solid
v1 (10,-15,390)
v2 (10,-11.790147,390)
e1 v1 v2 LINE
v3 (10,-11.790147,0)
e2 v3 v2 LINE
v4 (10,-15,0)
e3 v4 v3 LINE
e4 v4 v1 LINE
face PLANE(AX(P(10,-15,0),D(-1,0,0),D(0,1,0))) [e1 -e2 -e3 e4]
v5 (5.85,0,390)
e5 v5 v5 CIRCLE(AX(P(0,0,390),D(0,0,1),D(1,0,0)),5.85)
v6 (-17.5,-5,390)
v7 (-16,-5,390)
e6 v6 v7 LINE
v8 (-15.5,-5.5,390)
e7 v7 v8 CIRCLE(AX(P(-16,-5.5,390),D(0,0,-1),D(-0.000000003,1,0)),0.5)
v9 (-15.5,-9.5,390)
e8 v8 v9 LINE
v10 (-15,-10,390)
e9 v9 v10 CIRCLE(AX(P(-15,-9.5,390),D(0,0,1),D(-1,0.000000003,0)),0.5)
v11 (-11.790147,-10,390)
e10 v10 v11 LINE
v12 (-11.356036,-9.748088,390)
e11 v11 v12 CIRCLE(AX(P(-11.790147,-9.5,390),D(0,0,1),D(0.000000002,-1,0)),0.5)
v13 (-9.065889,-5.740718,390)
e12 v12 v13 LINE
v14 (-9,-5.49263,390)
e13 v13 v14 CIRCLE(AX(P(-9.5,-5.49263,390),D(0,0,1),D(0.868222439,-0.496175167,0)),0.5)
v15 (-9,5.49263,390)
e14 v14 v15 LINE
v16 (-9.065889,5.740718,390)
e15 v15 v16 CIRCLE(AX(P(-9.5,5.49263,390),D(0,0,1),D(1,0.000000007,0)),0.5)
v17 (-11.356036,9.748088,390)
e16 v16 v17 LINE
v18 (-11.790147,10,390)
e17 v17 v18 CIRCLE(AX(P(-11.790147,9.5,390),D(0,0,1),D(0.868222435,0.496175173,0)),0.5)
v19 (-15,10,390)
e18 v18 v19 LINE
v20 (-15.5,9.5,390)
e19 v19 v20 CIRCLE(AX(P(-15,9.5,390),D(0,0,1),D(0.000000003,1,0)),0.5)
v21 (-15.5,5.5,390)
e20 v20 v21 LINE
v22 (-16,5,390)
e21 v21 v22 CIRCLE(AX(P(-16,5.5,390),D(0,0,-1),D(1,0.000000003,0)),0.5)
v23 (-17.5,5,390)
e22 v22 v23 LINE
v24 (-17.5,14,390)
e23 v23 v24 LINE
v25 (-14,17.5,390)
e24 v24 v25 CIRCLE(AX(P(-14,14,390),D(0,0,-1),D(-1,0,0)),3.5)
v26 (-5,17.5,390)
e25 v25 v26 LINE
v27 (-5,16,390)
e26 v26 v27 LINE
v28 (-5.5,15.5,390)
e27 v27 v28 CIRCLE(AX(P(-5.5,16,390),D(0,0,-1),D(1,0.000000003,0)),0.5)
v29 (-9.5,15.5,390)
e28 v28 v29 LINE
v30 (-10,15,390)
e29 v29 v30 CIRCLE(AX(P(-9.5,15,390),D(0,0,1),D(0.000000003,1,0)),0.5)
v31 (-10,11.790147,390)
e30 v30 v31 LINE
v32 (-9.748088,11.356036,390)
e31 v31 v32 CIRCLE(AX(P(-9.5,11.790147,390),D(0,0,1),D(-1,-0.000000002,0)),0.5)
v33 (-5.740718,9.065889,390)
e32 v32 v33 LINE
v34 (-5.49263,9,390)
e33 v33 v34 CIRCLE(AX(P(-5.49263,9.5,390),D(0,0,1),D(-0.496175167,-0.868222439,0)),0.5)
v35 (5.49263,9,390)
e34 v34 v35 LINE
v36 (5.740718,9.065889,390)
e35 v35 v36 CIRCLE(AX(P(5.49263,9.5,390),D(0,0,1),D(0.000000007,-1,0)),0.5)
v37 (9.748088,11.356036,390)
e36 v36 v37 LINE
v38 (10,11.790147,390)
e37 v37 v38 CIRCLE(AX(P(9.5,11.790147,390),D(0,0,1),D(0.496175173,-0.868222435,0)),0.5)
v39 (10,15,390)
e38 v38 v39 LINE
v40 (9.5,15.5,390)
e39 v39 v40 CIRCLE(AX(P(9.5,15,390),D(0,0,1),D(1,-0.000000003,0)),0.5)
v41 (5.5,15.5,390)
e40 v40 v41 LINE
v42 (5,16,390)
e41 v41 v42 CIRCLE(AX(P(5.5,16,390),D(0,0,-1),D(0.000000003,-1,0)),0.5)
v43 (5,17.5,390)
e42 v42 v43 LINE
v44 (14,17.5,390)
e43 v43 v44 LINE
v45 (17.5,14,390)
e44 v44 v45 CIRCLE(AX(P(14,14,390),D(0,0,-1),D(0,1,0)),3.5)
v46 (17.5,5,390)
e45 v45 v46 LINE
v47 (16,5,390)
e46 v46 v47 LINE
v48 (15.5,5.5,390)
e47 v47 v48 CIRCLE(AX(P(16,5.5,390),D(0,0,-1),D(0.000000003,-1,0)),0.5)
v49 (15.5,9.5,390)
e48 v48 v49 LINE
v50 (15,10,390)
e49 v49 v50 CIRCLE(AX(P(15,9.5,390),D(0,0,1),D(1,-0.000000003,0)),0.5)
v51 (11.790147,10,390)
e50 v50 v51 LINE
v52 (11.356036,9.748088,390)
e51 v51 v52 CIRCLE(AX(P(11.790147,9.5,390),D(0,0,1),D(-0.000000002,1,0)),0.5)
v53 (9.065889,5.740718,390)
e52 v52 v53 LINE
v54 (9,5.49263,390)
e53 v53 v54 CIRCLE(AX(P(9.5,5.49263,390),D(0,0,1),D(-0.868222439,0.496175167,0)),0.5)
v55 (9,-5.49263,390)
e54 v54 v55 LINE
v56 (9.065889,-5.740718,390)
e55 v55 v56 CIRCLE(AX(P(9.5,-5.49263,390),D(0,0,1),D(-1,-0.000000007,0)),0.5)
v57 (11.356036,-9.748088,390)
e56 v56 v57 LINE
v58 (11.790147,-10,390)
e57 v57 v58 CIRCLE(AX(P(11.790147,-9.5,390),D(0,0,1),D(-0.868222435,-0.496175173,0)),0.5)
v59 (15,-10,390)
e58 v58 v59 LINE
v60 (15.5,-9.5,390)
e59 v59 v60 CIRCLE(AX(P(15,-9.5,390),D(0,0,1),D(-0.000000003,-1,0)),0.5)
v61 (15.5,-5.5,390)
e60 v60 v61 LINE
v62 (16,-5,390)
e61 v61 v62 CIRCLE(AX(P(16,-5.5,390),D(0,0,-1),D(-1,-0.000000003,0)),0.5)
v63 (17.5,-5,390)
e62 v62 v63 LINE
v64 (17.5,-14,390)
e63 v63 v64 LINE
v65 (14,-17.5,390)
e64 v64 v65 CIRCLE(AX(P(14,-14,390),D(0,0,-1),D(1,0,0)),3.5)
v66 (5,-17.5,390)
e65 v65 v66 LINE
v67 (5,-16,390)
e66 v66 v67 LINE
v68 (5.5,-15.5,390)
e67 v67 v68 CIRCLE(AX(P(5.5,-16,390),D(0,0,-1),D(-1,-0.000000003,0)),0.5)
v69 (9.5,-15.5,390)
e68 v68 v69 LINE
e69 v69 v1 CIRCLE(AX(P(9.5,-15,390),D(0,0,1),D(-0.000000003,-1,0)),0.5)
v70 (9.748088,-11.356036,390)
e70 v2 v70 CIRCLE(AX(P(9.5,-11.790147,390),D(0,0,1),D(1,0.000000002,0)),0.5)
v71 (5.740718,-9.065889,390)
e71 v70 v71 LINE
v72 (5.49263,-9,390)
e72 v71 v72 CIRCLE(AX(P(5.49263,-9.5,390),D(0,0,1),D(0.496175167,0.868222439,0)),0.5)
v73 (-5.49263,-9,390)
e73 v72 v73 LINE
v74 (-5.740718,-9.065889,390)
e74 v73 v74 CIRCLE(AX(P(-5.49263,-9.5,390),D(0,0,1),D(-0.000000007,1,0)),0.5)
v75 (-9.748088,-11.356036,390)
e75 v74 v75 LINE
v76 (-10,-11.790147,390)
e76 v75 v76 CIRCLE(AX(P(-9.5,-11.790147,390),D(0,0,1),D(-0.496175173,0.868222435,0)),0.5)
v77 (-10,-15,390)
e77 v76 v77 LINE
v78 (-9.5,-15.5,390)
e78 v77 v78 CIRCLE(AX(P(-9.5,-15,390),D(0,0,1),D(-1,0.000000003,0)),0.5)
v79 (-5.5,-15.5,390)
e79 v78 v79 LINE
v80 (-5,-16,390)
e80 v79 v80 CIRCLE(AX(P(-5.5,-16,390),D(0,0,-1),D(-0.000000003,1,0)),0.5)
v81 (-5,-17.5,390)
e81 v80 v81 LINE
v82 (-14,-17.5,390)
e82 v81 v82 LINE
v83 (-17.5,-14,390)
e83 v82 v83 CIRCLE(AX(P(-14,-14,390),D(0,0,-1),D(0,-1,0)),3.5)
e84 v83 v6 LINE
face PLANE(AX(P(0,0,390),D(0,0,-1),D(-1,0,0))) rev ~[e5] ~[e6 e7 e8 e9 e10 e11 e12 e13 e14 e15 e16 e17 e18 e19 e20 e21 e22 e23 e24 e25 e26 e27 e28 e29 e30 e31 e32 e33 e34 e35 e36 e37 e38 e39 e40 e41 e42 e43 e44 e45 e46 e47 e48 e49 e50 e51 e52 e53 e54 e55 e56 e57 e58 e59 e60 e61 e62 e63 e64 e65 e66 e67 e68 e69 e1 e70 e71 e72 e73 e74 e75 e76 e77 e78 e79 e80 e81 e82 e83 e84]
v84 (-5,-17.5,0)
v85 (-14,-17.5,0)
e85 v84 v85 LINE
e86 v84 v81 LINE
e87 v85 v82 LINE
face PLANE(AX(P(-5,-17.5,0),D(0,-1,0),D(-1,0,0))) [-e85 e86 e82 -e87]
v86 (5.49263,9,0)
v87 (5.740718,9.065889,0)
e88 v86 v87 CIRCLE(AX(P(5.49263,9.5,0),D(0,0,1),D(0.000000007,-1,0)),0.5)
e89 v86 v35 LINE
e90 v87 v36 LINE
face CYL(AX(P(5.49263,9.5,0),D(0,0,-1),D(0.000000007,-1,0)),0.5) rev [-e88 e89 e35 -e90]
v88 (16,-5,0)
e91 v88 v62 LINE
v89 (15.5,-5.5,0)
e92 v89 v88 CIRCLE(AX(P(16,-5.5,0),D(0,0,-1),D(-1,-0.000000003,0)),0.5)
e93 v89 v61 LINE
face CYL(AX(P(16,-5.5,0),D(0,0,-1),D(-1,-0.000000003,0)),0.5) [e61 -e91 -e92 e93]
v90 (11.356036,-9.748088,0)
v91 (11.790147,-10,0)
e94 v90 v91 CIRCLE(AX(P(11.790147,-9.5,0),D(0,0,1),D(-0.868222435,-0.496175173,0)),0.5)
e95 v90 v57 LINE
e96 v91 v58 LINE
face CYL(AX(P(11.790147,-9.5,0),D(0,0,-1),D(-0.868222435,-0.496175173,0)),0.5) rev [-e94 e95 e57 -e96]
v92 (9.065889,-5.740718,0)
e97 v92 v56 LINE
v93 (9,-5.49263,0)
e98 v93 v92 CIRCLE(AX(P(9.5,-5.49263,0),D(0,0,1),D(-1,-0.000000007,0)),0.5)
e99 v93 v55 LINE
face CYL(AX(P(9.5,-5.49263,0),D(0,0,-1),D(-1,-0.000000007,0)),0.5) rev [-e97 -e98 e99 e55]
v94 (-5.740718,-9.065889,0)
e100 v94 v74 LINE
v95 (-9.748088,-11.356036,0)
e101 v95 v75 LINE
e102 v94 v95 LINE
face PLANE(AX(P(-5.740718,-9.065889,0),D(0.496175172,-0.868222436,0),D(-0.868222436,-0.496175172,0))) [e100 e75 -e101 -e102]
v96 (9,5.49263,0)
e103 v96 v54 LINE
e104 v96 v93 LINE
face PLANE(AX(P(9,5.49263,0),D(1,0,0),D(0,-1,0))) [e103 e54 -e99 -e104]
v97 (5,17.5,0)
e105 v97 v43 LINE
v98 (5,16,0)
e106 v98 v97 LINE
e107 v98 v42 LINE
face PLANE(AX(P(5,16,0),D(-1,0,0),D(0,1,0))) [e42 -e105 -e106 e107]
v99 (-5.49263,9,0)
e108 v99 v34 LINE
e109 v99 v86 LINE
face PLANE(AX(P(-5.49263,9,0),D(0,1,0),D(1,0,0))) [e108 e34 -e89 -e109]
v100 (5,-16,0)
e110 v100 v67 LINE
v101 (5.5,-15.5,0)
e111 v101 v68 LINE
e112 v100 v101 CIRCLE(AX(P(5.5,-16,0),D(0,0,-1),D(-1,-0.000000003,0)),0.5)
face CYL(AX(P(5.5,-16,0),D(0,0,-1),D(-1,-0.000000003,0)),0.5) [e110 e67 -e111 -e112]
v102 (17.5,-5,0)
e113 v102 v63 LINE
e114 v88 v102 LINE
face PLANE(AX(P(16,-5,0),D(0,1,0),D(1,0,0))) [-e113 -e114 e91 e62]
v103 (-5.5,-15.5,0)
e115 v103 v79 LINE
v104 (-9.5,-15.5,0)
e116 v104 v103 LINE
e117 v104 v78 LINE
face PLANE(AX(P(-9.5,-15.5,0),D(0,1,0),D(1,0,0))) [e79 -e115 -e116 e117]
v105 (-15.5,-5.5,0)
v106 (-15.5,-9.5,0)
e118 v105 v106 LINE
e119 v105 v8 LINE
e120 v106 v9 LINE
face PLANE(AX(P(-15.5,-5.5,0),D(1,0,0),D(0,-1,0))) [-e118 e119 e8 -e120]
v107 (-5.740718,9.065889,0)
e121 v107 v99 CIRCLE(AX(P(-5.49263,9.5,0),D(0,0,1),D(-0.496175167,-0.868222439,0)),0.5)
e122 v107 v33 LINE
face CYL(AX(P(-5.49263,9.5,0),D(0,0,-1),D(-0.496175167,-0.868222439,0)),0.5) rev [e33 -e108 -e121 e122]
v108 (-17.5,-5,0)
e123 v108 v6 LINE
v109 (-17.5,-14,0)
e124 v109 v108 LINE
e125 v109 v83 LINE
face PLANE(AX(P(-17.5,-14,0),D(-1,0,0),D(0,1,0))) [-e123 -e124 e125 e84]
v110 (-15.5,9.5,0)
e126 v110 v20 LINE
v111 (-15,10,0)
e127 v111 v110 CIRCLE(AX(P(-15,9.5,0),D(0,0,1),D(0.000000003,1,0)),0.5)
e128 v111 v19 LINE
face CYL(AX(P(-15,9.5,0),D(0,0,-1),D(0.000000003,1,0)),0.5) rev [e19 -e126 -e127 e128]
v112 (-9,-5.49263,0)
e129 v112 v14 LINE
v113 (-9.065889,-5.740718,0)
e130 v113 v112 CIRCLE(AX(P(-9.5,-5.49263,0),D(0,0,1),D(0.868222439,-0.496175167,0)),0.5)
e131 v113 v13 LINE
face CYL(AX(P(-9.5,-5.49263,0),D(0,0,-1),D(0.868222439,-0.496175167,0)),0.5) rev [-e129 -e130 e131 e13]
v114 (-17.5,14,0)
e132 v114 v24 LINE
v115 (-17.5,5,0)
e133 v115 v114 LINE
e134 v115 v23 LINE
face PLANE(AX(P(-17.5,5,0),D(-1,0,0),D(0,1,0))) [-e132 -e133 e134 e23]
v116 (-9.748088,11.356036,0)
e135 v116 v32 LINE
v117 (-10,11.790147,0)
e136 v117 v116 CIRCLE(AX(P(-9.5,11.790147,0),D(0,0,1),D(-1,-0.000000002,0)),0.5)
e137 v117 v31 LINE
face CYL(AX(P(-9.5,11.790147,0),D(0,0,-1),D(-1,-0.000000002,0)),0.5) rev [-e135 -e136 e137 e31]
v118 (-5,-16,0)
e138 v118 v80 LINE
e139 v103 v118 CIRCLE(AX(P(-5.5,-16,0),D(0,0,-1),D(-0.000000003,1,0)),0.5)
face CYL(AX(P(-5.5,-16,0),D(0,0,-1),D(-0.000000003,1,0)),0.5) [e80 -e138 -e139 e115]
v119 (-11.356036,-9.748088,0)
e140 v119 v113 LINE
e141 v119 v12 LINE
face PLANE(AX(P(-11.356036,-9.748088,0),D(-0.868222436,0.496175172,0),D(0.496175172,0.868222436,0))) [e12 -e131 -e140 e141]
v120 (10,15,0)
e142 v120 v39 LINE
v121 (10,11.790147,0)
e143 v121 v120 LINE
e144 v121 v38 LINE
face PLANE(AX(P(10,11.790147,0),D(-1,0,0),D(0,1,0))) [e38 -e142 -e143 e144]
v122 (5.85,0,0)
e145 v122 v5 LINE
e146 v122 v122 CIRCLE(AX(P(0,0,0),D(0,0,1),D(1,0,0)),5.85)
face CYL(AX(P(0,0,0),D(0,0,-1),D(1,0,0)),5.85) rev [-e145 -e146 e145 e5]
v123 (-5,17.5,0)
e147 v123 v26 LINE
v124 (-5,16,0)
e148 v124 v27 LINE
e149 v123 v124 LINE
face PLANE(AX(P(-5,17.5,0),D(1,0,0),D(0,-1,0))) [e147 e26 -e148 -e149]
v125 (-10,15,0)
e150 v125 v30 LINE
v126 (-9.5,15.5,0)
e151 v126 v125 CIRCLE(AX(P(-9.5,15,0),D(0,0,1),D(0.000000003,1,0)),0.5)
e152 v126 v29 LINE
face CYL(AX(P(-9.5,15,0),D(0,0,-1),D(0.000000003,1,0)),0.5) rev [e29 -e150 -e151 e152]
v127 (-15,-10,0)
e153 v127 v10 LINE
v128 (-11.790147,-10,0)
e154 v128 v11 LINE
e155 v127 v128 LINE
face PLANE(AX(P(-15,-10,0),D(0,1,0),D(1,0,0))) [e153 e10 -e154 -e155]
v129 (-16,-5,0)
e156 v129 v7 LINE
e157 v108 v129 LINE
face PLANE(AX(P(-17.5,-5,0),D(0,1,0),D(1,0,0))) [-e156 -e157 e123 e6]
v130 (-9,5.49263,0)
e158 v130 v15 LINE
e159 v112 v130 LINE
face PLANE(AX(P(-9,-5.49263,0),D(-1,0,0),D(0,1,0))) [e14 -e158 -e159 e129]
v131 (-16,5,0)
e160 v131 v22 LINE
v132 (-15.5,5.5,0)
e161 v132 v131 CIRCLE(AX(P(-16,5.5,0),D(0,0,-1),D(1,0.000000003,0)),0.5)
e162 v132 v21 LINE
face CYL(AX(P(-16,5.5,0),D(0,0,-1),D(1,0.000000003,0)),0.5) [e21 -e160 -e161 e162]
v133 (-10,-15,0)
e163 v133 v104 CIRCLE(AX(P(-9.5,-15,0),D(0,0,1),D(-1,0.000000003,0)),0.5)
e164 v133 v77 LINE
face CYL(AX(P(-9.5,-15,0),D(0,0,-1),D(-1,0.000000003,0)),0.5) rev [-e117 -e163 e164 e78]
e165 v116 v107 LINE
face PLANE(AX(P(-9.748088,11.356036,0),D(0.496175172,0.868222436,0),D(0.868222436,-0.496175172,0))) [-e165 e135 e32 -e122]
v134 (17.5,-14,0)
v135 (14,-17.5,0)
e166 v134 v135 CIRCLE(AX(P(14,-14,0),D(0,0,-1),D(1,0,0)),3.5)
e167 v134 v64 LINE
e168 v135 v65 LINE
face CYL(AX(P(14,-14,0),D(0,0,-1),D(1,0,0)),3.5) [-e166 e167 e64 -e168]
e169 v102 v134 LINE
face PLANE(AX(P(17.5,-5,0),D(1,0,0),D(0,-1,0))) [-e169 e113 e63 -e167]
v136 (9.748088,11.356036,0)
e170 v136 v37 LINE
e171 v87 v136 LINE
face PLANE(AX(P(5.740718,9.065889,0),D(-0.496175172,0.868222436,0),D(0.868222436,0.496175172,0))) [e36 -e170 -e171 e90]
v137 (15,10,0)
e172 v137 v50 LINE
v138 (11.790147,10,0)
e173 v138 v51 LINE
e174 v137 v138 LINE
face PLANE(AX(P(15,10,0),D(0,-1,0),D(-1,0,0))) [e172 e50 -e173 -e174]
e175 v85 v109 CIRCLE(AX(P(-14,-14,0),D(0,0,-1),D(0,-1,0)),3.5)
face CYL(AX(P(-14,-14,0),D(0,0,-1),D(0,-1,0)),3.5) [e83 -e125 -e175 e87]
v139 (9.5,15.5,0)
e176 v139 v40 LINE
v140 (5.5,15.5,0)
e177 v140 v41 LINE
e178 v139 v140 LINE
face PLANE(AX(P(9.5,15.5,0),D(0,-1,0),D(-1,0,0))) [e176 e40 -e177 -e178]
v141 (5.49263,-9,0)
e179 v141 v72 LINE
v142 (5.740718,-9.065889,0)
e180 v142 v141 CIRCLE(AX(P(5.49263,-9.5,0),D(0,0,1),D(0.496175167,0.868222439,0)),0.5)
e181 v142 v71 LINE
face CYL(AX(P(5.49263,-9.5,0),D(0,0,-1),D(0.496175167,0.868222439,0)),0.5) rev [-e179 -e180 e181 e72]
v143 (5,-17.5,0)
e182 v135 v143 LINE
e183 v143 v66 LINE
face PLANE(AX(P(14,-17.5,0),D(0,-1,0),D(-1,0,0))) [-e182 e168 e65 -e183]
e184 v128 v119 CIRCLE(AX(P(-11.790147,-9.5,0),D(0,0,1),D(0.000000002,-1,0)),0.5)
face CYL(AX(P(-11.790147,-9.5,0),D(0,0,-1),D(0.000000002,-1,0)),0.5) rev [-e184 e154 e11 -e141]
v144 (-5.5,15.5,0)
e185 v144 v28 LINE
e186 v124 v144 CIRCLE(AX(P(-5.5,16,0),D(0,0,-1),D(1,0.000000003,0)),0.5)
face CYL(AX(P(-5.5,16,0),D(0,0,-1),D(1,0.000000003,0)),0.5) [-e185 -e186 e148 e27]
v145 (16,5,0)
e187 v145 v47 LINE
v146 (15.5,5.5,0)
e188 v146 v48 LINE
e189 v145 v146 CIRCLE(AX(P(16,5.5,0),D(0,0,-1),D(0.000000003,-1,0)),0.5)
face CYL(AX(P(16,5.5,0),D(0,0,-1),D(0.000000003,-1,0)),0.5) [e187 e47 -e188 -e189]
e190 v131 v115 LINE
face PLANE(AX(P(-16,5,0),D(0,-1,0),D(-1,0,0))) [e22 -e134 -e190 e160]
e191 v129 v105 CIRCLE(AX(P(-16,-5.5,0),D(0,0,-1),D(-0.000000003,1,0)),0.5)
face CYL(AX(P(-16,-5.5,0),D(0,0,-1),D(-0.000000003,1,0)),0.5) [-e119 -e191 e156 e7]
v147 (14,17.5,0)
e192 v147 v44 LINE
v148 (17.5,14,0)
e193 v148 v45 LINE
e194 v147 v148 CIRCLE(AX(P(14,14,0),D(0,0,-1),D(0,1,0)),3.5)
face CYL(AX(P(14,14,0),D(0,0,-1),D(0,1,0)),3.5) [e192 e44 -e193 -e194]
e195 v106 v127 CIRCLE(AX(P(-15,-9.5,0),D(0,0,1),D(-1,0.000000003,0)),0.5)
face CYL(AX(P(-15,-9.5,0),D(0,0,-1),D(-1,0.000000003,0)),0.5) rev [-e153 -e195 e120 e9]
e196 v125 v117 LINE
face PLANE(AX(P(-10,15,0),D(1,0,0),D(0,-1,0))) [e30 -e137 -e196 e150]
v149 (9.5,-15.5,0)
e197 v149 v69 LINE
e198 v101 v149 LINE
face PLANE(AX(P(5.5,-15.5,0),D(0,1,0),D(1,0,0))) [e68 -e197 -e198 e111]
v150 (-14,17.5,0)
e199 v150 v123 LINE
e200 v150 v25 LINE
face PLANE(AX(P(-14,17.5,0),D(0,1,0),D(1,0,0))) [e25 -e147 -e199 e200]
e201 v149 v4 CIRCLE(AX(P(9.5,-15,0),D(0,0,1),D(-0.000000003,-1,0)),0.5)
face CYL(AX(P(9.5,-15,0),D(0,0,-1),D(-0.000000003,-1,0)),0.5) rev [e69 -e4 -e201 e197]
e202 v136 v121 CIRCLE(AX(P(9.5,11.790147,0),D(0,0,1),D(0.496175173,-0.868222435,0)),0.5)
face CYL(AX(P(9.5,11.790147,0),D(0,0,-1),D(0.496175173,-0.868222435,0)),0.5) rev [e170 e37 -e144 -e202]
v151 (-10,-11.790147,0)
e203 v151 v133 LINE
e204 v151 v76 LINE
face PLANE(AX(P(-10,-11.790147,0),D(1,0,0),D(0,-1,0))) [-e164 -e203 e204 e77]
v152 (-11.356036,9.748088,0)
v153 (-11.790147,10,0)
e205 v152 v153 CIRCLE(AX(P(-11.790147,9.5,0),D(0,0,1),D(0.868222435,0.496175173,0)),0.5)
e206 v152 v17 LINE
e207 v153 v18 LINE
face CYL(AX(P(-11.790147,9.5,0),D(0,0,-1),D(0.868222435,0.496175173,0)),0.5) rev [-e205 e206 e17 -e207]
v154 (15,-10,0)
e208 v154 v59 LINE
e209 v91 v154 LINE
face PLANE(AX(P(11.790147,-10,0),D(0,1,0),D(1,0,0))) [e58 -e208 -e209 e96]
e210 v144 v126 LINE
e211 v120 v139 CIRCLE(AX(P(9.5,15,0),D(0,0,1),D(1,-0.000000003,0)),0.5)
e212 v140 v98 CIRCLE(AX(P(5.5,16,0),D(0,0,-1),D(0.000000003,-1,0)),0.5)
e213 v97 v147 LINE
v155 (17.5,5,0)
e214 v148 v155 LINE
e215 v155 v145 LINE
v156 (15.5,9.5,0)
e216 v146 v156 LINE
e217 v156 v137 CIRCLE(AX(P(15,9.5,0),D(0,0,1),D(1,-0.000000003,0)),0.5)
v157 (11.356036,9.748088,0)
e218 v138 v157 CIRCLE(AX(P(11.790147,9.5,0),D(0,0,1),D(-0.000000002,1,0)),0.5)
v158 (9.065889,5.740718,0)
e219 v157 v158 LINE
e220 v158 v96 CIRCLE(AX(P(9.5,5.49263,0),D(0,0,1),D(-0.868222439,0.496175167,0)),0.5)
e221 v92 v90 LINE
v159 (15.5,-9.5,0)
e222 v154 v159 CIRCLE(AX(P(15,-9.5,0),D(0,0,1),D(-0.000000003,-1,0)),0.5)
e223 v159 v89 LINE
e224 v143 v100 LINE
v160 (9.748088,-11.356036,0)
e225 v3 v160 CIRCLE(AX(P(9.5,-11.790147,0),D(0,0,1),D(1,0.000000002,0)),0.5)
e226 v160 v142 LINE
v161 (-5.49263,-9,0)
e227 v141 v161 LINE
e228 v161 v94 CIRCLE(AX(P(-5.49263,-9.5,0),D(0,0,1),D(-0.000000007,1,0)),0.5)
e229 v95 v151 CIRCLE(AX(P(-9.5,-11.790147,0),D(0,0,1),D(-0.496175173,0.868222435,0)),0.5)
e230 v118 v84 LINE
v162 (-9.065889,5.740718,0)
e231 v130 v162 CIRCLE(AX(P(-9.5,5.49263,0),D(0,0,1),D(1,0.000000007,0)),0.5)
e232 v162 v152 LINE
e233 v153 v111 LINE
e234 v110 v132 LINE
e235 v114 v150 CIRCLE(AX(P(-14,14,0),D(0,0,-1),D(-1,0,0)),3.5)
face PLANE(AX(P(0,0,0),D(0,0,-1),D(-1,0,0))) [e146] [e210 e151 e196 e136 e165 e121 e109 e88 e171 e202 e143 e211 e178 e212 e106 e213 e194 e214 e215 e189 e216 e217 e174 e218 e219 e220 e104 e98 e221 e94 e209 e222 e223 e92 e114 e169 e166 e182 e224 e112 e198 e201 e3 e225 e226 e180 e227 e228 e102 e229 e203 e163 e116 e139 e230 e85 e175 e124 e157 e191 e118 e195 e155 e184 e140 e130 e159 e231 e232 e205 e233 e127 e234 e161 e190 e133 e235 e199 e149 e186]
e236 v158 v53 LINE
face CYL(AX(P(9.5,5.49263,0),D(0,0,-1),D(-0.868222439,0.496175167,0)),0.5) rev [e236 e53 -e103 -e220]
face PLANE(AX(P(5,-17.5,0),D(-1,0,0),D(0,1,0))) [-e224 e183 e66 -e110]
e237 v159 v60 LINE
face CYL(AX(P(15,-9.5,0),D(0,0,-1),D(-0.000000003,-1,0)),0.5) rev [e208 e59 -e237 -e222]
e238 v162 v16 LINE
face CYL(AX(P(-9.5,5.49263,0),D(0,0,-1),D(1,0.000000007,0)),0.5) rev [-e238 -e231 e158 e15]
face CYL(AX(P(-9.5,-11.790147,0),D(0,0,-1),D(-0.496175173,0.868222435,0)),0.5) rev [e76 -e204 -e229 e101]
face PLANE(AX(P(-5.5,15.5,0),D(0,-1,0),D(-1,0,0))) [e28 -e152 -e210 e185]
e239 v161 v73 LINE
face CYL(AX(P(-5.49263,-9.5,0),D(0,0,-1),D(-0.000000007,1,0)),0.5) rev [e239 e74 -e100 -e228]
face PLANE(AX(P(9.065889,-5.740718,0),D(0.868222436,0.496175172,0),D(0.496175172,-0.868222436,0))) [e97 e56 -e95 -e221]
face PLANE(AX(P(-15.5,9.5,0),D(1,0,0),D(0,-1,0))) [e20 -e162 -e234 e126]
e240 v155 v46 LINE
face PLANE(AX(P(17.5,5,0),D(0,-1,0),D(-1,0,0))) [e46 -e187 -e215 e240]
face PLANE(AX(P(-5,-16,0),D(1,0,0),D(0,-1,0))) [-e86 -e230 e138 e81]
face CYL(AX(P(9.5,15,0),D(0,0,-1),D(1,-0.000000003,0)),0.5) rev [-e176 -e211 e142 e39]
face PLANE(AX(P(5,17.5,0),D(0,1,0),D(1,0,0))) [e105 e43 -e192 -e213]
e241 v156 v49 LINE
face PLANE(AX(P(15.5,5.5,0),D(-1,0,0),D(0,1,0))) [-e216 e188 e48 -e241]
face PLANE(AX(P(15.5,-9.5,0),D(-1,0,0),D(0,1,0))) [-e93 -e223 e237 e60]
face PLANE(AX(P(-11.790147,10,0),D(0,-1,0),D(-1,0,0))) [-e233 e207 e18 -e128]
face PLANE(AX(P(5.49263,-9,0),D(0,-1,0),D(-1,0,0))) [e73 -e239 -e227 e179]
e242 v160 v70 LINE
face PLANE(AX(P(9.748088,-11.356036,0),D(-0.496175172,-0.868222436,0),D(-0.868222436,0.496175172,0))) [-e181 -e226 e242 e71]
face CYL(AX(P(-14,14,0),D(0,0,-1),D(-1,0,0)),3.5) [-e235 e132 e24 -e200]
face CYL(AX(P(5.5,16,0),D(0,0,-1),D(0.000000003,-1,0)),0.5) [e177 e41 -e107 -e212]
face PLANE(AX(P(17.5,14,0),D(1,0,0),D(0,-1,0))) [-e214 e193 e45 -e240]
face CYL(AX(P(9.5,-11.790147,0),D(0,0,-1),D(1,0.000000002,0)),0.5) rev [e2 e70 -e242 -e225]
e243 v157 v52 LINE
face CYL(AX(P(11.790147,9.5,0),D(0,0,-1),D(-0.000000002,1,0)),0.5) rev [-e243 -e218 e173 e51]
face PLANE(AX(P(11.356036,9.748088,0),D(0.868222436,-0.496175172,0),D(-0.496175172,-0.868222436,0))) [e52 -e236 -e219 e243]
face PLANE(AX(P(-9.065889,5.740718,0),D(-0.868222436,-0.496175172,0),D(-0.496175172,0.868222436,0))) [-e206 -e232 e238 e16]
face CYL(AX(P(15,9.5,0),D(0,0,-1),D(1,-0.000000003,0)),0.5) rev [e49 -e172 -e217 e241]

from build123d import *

# Parameters (mm, degrees)
CROQUIS1_R              = 5.85
SALIENTE_EXTRUIR1_DEPTH = 390


with BuildPart() as part:
    # Croquis1 → Saliente-Extruir1 (new body)
    with BuildSketch(Plane.XY):
        with BuildLine():
            Line((-17.5, -5), (-16, -5))
            ThreePointArc((-16, -5), (-15.646446609, -5.146446609), (-15.5, -5.5))
            Line((-15.5, -5.5), (-15.5, -9.5))
            ThreePointArc((-15.5, -9.5), (-15.353553391, -9.853553391), (-15, -10))
            Line((-15, -10), (-11.790147321, -10))
            ThreePointArc((-11.790147321, -10), (-11.539192936, -9.932460283), (-11.356036103, -9.748087586))
            Line((-11.356036103, -9.748087586), (-9.065888782, -5.740718013))
            ThreePointArc((-9.065888782, -5.740718013), (-9.016752854, -5.620974478), (-9, -5.492630427))
            Line((-9, -5.492630427), (-9, 5.492630427))
            ThreePointArc((-9, 5.492630427), (-9.016752854, 5.620974478), (-9.065888782, 5.740718013))
            Line((-9.065888782, 5.740718013), (-11.356036103, 9.748087586))
            ThreePointArc((-11.356036103, 9.748087586), (-11.539192936, 9.932460283), (-11.790147321, 10))
            Line((-11.790147321, 10), (-15, 10))
            ThreePointArc((-15, 10), (-15.353553391, 9.853553391), (-15.5, 9.5))
            Line((-15.5, 9.5), (-15.5, 5.5))
            ThreePointArc((-15.5, 5.5), (-15.646446609, 5.146446609), (-16, 5))
            Line((-16, 5), (-17.5, 5))
            Line((-17.5, 5), (-17.5, 14))
            ThreePointArc((-17.5, 14), (-16.474873734, 16.474873734), (-14, 17.5))
            Line((-14, 17.5), (-5, 17.5))
            Line((-5, 17.5), (-5, 16))
            ThreePointArc((-5, 16), (-5.146446609, 15.646446609), (-5.5, 15.5))
            Line((-5.5, 15.5), (-9.5, 15.5))
            ThreePointArc((-9.5, 15.5), (-9.853553391, 15.353553391), (-10, 15))
            Line((-10, 15), (-10, 11.790147321))
            ThreePointArc((-10, 11.790147321), (-9.932460283, 11.539192936), (-9.748087586, 11.356036103))
            Line((-9.748087586, 11.356036103), (-5.740718013, 9.065888782))
            ThreePointArc((-5.740718013, 9.065888782), (-5.620974478, 9.016752854), (-5.492630427, 9))
            Line((-5.492630427, 9), (5.492630427, 9))
            ThreePointArc((5.492630427, 9), (5.620974478, 9.016752854), (5.740718013, 9.065888782))
            Line((5.740718013, 9.065888782), (9.748087586, 11.356036103))
            ThreePointArc((9.748087586, 11.356036103), (9.932460283, 11.539192936), (10, 11.790147321))
            Line((10, 11.790147321), (10, 15))
            ThreePointArc((10, 15), (9.853553391, 15.353553391), (9.5, 15.5))
            Line((9.5, 15.5), (5.5, 15.5))
            ThreePointArc((5.5, 15.5), (5.146446609, 15.646446609), (5, 16))
            Line((5, 16), (5, 17.5))
            Line((5, 17.5), (14, 17.5))
            ThreePointArc((14, 17.5), (16.474873734, 16.474873734), (17.5, 14))
            Line((17.5, 14), (17.5, 5))
            Line((17.5, 5), (16, 5))
            ThreePointArc((16, 5), (15.646446609, 5.146446609), (15.5, 5.5))
            Line((15.5, 5.5), (15.5, 9.5))
            ThreePointArc((15.5, 9.5), (15.353553391, 9.853553391), (15, 10))
            Line((15, 10), (11.790147321, 10))
            ThreePointArc((11.790147321, 10), (11.539192936, 9.932460283), (11.356036103, 9.748087586))
            Line((11.356036103, 9.748087586), (9.065888782, 5.740718013))
            ThreePointArc((9.065888782, 5.740718013), (9.016752854, 5.620974478), (9, 5.492630427))
            Line((9, 5.492630427), (9, -5.492630427))
            ThreePointArc((9, -5.492630427), (9.016752854, -5.620974478), (9.065888782, -5.740718013))
            Line((9.065888782, -5.740718013), (11.356036103, -9.748087586))
            ThreePointArc((11.356036103, -9.748087586), (11.539192936, -9.932460283), (11.790147321, -10))
            Line((11.790147321, -10), (15, -10))
            ThreePointArc((15, -10), (15.353553391, -9.853553391), (15.5, -9.5))
            Line((15.5, -9.5), (15.5, -5.5))
            ThreePointArc((15.5, -5.5), (15.646446609, -5.146446609), (16, -5))
            Line((16, -5), (17.5, -5))
            Line((17.5, -5), (17.5, -14))
            ThreePointArc((17.5, -14), (16.474873734, -16.474873734), (14, -17.5))
            Line((14, -17.5), (5, -17.5))
            Line((5, -17.5), (5, -16))
            ThreePointArc((5, -16), (5.146446609, -15.646446609), (5.5, -15.5))
            Line((5.5, -15.5), (9.5, -15.5))
            ThreePointArc((9.5, -15.5), (9.853553391, -15.353553391), (10, -15))
            Line((10, -15), (10, -11.790147321))
            ThreePointArc((10, -11.790147321), (9.932460283, -11.539192936), (9.748087586, -11.356036103))
            Line((9.748087586, -11.356036103), (5.740718013, -9.065888782))
            ThreePointArc((5.740718013, -9.065888782), (5.620974478, -9.016752854), (5.492630427, -9))
            Line((5.492630427, -9), (-5.492630427, -9))
            ThreePointArc((-5.492630427, -9), (-5.620974478, -9.016752854), (-5.740718013, -9.065888782))
            Line((-5.740718013, -9.065888782), (-9.748087586, -11.356036103))
            ThreePointArc((-9.748087586, -11.356036103), (-9.932460283, -11.539192936), (-10, -11.790147321))
            Line((-10, -11.790147321), (-10, -15))
            ThreePointArc((-10, -15), (-9.853553391, -15.353553391), (-9.5, -15.5))
            Line((-9.5, -15.5), (-5.5, -15.5))
            ThreePointArc((-5.5, -15.5), (-5.146446609, -15.646446609), (-5, -16))
            Line((-5, -16), (-5, -17.5))
            Line((-5, -17.5), (-14, -17.5))
            ThreePointArc((-14, -17.5), (-16.474873734, -16.474873734), (-17.5, -14))
            Line((-17.5, -14), (-17.5, -5))
        make_face()
        Circle(CROQUIS1_R, mode=Mode.SUBTRACT)
    extrude(amount=SALIENTE_EXTRUIR1_DEPTH)


solid = part.part
